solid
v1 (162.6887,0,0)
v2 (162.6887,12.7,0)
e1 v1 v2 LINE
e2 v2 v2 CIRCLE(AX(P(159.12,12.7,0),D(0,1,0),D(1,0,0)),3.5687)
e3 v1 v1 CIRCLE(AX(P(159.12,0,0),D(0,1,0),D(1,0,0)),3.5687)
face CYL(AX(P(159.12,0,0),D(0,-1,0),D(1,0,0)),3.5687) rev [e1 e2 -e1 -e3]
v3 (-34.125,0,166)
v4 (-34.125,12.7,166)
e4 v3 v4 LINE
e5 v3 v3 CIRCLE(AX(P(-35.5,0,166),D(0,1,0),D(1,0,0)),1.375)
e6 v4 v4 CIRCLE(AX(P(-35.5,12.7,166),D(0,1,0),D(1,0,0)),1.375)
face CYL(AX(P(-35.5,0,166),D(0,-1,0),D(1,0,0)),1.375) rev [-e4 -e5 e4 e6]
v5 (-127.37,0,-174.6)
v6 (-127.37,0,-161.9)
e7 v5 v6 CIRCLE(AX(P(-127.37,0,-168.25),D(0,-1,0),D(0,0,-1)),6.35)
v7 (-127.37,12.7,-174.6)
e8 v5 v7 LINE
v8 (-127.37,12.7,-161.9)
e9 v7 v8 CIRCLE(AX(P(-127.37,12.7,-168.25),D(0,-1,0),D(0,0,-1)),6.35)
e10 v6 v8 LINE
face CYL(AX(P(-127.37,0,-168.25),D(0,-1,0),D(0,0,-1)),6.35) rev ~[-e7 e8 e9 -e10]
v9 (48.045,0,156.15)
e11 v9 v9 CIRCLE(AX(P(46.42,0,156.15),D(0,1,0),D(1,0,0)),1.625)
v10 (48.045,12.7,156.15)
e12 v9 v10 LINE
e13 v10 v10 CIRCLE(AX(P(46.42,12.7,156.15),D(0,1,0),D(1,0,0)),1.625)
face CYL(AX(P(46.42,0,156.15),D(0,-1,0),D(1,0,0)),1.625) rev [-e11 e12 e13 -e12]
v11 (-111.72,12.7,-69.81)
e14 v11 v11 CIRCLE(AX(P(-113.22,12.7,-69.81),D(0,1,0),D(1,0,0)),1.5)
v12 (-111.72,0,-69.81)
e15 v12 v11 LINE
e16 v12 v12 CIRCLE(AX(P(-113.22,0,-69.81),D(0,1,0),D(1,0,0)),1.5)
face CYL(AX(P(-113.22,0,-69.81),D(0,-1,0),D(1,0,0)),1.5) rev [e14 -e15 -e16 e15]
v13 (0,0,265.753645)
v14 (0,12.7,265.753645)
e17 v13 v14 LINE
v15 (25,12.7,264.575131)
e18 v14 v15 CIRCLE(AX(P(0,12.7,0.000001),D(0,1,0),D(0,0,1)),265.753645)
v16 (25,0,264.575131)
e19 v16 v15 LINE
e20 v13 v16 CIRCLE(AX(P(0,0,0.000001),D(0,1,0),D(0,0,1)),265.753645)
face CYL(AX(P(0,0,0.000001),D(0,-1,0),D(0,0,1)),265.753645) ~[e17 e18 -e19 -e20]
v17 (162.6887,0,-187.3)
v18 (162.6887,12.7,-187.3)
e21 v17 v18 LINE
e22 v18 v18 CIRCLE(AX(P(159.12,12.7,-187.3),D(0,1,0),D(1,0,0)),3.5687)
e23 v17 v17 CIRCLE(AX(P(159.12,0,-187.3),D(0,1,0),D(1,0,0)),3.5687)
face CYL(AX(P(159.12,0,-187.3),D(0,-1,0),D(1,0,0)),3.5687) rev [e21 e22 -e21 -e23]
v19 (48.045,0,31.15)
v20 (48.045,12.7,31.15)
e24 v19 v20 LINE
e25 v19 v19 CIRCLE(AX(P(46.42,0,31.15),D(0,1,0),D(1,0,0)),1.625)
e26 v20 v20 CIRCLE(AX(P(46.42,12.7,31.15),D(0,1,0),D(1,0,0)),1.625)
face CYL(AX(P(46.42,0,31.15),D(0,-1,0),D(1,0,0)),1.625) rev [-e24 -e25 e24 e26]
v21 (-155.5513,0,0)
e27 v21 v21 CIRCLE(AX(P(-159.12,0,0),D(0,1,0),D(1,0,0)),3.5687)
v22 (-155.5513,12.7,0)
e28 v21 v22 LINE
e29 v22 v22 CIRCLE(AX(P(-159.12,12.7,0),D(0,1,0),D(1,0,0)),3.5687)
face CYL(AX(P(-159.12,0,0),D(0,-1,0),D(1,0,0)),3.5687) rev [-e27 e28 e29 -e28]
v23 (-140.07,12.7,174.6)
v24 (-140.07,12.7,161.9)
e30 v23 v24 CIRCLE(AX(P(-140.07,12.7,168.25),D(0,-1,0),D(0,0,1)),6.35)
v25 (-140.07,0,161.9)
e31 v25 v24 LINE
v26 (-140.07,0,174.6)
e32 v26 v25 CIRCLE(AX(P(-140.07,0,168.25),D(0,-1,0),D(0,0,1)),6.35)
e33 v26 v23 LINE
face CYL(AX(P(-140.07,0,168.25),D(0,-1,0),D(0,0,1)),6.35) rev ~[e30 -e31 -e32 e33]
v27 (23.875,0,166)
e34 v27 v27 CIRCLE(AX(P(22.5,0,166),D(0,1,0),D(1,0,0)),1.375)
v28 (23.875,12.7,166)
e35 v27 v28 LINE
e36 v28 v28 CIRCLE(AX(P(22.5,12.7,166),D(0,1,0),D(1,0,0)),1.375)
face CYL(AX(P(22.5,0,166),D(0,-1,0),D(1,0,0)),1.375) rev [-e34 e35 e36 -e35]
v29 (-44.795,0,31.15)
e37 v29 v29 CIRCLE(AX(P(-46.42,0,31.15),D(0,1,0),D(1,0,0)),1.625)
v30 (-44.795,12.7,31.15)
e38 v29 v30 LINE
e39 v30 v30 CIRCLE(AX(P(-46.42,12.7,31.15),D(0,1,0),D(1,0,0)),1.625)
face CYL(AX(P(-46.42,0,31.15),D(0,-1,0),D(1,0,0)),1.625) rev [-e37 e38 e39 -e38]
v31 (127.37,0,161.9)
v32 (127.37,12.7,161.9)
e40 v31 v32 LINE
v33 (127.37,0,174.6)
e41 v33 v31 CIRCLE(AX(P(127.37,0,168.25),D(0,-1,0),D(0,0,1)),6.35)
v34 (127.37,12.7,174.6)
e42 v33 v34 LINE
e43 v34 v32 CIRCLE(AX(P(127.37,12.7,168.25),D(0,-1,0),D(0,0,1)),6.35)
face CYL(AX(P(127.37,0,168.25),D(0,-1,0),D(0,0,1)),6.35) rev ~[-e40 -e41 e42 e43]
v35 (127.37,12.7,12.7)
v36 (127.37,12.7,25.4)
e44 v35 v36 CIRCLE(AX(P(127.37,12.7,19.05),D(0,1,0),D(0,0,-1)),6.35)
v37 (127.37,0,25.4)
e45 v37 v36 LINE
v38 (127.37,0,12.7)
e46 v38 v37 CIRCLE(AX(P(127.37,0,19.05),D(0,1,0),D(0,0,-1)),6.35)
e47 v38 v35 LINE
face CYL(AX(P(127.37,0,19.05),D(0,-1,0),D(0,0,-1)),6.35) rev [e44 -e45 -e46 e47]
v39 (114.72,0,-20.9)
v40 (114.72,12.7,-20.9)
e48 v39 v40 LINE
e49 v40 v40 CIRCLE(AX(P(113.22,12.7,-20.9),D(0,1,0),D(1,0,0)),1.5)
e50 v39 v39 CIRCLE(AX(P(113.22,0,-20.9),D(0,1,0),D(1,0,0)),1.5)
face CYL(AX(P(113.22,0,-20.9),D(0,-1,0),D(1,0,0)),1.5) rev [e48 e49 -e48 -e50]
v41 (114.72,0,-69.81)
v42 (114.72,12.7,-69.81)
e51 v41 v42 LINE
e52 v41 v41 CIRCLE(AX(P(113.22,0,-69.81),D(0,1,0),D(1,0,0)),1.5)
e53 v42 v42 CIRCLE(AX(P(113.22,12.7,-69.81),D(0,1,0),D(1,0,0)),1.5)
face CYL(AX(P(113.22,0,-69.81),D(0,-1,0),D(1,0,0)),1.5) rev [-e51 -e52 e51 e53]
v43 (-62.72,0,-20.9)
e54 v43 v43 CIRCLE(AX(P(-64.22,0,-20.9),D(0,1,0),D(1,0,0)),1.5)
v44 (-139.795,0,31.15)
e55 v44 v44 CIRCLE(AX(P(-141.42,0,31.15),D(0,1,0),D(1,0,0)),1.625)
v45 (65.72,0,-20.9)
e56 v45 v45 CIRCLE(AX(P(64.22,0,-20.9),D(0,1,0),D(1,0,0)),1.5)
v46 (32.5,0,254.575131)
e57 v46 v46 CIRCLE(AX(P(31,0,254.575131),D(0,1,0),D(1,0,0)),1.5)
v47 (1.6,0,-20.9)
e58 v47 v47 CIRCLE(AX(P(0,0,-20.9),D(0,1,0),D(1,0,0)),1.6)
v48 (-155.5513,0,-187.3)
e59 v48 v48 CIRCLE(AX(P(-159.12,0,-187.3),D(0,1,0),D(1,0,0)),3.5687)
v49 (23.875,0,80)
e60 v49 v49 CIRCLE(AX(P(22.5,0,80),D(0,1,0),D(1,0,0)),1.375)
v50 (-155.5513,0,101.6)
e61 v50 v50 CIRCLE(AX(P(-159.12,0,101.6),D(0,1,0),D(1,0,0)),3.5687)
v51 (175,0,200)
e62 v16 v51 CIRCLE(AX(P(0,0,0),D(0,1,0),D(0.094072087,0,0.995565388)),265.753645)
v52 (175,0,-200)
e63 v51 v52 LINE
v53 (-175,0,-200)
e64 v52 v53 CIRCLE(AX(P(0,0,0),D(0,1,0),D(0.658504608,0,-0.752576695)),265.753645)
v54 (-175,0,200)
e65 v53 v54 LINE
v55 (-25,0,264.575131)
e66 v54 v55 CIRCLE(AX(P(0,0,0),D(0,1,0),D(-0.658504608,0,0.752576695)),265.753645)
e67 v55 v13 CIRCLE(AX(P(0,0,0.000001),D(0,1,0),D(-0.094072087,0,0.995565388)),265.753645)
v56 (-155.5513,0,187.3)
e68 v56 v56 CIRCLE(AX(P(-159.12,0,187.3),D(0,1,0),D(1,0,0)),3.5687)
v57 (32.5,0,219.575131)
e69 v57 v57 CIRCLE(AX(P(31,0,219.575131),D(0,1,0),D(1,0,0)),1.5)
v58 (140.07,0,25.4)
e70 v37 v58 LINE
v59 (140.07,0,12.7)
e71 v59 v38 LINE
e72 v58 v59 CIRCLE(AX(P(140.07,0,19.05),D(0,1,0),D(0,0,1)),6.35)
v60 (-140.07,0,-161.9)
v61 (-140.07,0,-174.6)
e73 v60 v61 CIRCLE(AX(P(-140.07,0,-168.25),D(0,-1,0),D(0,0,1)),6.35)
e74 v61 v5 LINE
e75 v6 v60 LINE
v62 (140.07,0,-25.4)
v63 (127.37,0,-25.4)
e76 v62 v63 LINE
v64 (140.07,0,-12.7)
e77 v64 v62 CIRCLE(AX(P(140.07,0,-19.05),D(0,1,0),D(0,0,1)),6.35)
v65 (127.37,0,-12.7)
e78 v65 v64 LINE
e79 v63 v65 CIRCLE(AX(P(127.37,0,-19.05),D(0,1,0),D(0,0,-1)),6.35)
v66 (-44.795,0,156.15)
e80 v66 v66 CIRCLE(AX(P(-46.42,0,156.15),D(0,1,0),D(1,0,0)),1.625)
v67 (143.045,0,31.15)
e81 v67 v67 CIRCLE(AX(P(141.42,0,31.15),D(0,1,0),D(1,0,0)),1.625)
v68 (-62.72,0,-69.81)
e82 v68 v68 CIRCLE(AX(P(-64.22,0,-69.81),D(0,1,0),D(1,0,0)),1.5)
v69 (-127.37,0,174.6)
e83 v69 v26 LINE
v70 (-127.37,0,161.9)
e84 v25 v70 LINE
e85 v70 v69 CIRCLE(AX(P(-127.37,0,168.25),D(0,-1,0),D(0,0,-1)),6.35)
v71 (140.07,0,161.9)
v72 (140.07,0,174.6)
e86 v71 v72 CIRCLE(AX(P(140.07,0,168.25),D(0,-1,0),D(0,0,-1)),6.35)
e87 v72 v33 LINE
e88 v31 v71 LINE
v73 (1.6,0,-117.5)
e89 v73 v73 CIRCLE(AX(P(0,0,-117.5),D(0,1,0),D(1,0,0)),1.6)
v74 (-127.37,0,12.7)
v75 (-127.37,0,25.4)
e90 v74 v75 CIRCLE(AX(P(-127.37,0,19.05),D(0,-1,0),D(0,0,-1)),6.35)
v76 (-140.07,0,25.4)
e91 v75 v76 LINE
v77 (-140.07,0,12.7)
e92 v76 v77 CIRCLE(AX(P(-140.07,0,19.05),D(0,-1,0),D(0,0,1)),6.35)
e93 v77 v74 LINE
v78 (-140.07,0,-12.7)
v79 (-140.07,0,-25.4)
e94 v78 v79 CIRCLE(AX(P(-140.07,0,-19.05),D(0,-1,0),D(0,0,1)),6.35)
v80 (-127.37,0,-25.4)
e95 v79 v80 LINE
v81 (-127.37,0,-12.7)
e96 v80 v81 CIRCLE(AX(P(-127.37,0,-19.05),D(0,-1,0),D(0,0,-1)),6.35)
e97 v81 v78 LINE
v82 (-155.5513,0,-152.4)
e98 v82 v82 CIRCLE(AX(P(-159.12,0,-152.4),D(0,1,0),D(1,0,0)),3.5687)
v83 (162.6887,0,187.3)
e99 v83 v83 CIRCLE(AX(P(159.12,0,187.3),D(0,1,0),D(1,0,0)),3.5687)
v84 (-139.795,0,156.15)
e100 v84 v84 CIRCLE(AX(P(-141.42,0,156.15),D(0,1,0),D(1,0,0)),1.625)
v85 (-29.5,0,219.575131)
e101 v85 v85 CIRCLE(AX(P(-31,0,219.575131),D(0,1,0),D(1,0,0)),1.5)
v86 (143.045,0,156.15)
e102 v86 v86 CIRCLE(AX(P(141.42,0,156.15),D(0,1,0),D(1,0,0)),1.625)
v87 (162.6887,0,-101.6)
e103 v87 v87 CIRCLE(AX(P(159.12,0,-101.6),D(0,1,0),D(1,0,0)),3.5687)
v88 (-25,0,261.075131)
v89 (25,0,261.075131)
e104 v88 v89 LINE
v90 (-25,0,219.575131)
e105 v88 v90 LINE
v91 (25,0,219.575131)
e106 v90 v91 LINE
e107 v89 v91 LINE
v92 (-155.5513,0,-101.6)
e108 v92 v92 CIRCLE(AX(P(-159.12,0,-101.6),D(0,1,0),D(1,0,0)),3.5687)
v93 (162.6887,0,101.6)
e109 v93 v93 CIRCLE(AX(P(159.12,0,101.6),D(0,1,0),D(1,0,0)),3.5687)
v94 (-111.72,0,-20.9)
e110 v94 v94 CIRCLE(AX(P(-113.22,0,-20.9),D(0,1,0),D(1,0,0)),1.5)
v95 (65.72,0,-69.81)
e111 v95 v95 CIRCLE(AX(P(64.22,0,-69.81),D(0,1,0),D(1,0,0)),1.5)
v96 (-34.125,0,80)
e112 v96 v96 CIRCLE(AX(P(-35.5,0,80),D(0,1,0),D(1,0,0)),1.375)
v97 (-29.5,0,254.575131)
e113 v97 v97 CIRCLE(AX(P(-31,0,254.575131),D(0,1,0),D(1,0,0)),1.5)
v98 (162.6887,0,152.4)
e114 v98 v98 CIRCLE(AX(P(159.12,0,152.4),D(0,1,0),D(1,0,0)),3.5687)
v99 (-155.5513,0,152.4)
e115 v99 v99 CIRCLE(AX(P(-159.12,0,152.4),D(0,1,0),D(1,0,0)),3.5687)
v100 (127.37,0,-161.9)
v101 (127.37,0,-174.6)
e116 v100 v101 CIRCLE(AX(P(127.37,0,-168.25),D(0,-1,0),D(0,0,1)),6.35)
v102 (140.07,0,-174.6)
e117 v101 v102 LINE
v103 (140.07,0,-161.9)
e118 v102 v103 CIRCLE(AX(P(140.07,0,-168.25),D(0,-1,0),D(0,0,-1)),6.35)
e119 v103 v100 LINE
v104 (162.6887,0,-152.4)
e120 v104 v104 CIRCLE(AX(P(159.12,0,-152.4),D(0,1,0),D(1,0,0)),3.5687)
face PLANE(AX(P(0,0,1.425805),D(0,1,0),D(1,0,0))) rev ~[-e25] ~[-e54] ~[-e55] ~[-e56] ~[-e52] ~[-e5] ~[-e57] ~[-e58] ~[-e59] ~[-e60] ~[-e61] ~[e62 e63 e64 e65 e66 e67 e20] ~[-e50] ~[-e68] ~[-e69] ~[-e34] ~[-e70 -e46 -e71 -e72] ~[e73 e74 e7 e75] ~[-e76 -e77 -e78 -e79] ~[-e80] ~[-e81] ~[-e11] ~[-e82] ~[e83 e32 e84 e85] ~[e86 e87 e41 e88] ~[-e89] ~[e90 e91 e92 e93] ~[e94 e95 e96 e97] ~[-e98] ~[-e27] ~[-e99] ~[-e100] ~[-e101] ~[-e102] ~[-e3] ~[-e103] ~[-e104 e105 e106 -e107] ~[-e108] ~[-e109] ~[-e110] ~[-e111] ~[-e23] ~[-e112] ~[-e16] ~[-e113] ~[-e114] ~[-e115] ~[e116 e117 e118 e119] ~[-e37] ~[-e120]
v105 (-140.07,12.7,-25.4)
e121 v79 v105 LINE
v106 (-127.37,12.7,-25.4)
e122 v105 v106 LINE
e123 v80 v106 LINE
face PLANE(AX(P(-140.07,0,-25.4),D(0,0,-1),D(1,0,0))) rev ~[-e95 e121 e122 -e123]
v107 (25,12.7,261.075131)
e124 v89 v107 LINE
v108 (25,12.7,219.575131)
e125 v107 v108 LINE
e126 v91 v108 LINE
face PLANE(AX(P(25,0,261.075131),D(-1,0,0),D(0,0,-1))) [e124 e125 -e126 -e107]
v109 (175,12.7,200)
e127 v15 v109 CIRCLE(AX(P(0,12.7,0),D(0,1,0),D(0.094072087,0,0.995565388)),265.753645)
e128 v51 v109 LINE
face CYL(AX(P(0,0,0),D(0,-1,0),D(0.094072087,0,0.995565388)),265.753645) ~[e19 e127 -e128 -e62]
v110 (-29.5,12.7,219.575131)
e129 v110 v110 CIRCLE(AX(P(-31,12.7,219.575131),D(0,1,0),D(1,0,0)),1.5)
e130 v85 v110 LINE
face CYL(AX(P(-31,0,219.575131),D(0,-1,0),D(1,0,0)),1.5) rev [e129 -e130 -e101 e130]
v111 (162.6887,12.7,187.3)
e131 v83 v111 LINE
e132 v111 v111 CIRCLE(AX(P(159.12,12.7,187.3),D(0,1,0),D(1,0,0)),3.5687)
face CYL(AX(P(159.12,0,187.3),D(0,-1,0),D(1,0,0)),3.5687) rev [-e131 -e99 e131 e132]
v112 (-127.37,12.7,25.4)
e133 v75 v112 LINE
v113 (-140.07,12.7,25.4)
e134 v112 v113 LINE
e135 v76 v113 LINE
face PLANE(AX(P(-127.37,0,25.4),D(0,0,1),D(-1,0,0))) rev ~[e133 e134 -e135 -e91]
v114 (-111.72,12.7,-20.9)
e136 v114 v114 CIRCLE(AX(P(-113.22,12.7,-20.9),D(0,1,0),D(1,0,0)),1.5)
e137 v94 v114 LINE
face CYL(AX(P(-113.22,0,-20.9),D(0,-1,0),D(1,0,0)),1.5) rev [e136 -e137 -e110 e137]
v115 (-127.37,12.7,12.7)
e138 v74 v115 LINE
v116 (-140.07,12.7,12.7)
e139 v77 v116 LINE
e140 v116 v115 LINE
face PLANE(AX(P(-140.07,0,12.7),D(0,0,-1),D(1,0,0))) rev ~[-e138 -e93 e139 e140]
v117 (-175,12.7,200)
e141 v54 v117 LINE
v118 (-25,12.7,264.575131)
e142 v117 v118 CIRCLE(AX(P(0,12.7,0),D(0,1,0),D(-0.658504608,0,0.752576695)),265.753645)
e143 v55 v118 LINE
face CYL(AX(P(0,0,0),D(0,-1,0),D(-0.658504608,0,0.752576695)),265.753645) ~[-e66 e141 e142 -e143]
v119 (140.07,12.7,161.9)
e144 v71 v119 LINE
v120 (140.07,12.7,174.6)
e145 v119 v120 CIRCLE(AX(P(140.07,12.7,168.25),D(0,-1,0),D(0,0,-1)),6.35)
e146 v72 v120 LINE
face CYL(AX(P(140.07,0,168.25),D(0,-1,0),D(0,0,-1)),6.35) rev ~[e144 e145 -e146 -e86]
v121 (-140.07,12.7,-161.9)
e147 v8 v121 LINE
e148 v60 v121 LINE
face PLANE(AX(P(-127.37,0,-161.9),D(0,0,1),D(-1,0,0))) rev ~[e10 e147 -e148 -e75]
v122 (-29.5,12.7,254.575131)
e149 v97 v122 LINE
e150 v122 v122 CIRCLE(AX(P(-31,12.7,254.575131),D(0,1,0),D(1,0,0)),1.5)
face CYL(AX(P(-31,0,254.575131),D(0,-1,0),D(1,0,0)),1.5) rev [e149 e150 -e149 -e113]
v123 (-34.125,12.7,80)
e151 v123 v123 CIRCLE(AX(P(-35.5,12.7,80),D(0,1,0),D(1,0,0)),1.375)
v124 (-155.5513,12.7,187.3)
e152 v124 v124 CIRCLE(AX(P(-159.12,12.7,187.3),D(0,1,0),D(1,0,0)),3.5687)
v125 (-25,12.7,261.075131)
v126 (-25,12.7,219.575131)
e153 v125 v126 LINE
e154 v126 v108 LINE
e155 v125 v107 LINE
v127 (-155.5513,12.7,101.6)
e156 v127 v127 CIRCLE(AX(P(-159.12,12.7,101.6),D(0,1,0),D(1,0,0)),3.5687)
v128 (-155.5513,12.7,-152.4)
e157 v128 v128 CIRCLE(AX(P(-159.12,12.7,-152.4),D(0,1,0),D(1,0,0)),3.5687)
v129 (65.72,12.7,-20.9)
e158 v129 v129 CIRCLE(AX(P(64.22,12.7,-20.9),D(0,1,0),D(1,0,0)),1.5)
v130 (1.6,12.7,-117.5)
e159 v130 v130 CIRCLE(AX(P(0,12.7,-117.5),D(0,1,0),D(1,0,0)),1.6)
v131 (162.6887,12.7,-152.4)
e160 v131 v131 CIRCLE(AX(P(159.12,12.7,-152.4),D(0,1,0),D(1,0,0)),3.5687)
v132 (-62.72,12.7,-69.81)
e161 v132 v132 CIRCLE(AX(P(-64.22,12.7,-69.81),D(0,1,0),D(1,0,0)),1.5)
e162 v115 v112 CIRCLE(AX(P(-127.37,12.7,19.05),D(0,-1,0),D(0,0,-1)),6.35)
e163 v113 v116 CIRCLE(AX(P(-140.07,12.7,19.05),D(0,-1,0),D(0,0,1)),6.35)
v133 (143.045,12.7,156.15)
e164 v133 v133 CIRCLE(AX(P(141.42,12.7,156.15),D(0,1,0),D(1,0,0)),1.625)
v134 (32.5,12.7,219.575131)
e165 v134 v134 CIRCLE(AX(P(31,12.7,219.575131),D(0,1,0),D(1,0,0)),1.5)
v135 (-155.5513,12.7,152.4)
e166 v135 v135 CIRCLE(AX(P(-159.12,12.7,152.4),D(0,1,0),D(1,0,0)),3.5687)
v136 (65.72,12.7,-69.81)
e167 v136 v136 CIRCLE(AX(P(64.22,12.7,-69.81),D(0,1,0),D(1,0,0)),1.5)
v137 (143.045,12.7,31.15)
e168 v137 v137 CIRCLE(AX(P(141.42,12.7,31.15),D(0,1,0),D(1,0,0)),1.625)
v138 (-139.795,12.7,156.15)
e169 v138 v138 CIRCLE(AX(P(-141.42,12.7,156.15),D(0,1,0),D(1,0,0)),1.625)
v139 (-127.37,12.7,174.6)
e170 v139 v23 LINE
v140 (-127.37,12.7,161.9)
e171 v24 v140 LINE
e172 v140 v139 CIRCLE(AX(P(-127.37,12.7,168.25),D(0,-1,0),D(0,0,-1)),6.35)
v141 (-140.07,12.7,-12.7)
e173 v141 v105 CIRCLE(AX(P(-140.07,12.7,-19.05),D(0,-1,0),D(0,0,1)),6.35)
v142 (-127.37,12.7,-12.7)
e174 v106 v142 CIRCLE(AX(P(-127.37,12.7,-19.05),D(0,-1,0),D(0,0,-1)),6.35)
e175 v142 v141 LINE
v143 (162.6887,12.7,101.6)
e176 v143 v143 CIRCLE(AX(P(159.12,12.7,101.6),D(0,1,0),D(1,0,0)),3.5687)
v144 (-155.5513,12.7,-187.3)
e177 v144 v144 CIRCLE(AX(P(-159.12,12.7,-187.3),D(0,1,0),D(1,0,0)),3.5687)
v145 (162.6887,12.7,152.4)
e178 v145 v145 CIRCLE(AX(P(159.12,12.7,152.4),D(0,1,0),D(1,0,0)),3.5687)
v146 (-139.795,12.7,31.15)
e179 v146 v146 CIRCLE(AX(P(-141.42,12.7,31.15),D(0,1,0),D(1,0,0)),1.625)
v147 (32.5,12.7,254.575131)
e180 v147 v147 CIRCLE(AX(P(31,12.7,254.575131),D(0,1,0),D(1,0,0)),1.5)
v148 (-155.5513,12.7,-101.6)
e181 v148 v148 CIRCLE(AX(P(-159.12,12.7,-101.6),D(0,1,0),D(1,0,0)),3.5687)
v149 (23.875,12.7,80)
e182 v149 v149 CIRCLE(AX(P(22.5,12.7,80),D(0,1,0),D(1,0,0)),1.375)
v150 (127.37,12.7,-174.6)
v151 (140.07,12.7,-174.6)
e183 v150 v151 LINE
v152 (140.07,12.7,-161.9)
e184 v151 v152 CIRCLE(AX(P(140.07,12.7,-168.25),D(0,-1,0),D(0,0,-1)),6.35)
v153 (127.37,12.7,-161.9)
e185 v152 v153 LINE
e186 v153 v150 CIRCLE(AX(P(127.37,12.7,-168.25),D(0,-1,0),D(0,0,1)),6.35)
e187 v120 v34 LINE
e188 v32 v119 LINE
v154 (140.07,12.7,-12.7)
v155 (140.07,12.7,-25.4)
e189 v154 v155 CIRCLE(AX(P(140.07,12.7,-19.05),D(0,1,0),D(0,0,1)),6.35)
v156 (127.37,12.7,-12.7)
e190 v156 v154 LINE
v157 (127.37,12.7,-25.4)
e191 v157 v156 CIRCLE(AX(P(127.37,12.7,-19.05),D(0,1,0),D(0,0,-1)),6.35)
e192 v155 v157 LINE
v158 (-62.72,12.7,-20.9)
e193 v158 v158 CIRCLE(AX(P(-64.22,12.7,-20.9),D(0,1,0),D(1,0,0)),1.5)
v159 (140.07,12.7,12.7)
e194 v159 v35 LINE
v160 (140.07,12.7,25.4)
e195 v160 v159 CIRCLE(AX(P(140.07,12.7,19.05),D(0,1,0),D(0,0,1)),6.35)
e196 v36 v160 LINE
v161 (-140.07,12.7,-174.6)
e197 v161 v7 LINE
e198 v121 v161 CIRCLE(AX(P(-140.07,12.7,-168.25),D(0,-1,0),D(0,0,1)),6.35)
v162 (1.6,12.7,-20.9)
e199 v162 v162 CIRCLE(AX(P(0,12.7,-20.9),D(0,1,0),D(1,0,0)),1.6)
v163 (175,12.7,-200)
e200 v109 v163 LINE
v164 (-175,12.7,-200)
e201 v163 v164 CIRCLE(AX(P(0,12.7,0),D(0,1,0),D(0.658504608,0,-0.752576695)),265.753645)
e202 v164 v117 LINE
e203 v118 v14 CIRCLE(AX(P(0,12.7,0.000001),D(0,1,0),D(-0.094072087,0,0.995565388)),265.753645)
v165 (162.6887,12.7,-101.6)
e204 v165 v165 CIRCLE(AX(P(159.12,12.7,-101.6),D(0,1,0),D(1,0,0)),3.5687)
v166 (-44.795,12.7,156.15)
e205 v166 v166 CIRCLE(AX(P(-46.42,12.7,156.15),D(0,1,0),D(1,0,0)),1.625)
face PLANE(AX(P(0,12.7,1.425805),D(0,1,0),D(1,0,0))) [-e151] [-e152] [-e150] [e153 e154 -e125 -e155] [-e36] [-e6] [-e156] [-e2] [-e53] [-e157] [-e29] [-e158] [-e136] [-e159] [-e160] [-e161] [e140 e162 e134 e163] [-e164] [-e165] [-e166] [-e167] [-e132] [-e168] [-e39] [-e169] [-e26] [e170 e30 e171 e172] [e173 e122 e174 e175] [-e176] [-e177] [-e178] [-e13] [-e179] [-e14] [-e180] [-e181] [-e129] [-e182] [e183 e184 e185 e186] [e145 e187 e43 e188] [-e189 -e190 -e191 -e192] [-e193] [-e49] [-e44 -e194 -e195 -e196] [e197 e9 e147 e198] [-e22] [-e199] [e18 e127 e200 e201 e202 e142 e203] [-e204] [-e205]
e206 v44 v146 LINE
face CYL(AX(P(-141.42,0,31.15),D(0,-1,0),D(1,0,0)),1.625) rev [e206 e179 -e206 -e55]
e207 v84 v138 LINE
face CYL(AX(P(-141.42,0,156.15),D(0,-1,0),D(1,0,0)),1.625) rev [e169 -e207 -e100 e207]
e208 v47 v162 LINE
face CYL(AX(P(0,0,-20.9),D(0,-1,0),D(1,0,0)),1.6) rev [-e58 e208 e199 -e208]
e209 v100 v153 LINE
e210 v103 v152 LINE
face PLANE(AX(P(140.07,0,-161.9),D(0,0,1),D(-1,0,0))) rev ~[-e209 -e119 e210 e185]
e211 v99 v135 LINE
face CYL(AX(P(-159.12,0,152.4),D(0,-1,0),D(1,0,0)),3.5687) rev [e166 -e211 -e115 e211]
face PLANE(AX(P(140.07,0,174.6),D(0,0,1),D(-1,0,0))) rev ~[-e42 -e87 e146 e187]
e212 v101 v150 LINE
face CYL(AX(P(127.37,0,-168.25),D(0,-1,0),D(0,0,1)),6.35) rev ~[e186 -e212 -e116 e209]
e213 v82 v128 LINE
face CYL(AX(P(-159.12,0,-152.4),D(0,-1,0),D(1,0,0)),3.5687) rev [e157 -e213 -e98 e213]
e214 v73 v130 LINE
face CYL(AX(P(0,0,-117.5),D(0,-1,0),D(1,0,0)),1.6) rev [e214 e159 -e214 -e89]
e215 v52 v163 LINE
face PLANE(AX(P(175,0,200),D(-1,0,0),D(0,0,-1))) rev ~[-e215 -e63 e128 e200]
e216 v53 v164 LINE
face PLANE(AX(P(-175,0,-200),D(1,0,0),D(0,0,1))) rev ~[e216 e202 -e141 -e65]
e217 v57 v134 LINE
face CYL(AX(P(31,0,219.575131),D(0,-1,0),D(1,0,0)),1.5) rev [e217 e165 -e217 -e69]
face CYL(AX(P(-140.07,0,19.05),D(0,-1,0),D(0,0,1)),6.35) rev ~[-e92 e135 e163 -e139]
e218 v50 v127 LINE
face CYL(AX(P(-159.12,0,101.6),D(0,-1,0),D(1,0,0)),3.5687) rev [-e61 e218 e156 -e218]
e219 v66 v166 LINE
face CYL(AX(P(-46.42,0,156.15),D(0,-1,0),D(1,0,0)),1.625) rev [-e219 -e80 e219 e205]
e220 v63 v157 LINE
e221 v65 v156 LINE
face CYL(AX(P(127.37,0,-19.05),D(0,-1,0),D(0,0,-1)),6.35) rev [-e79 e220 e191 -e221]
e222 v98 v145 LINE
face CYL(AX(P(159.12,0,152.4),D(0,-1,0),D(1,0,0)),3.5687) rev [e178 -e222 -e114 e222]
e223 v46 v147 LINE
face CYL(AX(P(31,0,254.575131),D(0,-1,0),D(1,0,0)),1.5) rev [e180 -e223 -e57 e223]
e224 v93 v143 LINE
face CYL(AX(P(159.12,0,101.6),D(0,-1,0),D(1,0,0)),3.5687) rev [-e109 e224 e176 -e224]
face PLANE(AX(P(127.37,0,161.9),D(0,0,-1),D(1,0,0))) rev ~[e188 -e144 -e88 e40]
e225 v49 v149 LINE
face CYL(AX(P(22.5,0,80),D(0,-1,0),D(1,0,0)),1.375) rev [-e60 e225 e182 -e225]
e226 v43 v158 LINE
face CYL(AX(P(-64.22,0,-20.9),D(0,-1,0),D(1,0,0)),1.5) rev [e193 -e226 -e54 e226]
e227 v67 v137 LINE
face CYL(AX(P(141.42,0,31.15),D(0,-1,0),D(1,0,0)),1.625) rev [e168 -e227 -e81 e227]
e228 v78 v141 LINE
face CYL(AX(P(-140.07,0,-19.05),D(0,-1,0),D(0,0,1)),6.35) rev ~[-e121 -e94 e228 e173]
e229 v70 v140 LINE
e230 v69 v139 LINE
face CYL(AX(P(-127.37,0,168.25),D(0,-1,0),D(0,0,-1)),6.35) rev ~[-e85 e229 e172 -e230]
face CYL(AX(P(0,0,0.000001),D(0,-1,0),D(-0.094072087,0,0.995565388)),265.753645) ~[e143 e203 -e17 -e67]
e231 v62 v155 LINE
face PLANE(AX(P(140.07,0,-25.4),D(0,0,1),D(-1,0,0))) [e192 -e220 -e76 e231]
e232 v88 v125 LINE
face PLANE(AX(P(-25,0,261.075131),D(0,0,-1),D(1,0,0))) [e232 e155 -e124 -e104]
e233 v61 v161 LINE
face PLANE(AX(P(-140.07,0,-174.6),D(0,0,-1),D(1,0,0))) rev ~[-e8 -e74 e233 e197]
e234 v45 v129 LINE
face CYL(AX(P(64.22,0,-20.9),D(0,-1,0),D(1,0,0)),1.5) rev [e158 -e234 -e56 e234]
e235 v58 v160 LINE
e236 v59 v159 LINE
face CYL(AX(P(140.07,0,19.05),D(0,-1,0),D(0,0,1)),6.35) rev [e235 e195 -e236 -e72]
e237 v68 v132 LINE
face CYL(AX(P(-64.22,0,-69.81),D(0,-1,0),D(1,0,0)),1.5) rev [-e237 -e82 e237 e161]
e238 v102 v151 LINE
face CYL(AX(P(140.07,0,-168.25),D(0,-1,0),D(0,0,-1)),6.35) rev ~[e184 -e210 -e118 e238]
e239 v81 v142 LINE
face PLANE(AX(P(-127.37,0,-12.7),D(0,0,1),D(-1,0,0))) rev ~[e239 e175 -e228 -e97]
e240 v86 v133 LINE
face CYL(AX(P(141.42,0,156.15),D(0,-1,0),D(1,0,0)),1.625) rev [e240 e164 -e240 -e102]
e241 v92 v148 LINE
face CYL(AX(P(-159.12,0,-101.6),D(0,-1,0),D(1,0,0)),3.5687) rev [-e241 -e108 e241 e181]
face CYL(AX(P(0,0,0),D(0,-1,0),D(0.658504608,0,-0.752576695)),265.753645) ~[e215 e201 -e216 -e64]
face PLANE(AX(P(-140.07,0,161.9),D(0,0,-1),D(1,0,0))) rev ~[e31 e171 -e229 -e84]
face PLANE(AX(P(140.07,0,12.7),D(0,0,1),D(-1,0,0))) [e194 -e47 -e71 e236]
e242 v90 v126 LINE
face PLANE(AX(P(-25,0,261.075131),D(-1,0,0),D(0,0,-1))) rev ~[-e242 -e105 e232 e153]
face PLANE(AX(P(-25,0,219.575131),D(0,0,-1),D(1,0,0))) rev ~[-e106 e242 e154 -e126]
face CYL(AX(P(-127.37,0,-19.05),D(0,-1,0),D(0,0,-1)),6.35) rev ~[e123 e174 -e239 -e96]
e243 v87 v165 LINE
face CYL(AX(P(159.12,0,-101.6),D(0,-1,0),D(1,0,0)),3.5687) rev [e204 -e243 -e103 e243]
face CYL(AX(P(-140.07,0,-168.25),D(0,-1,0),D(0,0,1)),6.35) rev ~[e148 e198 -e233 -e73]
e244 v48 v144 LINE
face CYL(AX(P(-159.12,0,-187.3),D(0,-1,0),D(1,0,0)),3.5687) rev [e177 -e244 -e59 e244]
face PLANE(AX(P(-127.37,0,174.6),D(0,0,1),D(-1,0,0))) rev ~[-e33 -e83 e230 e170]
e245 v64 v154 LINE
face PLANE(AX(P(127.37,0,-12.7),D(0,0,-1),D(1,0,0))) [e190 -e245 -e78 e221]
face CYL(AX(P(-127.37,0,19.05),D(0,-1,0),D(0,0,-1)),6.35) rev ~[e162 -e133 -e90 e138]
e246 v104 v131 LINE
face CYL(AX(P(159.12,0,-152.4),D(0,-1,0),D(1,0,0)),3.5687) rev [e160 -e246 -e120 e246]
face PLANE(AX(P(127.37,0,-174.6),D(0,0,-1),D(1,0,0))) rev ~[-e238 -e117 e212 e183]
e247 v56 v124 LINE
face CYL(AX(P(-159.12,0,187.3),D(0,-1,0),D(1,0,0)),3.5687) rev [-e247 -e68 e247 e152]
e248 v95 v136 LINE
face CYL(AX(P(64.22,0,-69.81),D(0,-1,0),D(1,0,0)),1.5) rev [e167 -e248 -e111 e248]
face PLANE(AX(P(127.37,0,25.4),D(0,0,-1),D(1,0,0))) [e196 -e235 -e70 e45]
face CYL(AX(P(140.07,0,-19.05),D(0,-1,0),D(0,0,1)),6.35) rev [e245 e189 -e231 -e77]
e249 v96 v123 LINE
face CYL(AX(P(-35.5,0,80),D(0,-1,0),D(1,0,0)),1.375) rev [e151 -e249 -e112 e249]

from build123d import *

# Parameters (mm, degrees)
SKETCH1_R           = 1.5
SKETCH1_R_2         = 1.375
SKETCH1_R_3         = 1.6
SKETCH1_R_4         = 1.625
SKETCH1_R_5         = 3.5687
SKETCH1_W           = 50
SKETCH1_H           = 41.5
BOSS_EXTRUDE1_DEPTH = 12.7


with BuildPart() as part:
    # Sketch1 → Boss-Extrude1 (new body)
    with BuildSketch(Plane(origin=(0, 0, 0), x_dir=(1, 0, 0), z_dir=(0, 1, 0))):
        with BuildLine():
            Line((175, -200), (175, 200))
            ThreePointArc((175, 200), (0, 265.753645318), (-175, 200))
            Line((-175, 200), (-175, -200))
            ThreePointArc((-175, -200), (-105.083237909, -244.095295142), (-25, -264.575131106))
            ThreePointArc((-25, -264.575131106), (-12.51388125, -265.458853264), (0, -265.753645318))
            ThreePointArc((0, -265.753645318), (12.51388125, -265.458853264), (25, -264.575131106))
            ThreePointArc((25, -264.575131106), (105.083237909, -244.095295142), (175, -200))
        make_face()
        with Locations((-31, -219.575131106)):
            Circle(SKETCH1_R, mode=Mode.SUBTRACT)
        with Locations((31, -219.575131106)):
            Circle(SKETCH1_R, mode=Mode.SUBTRACT)
        with Locations((22.5, -166)):
            Circle(SKETCH1_R_2, mode=Mode.SUBTRACT)
        with Locations((-31, -254.575131106)):
            Circle(SKETCH1_R, mode=Mode.SUBTRACT)
        with Locations((31, -254.575131106)):
            Circle(SKETCH1_R, mode=Mode.SUBTRACT)
        with Locations((-35.5, -166)):
            Circle(SKETCH1_R_2, mode=Mode.SUBTRACT)
        with Locations((22.5, -80)):
            Circle(SKETCH1_R_2, mode=Mode.SUBTRACT)
        with Locations((-35.5, -80)):
            Circle(SKETCH1_R_2, mode=Mode.SUBTRACT)
        with Locations((0, 117.5)):
            Circle(SKETCH1_R_3, mode=Mode.SUBTRACT)
        with Locations((0, 20.9)):
            Circle(SKETCH1_R_3, mode=Mode.SUBTRACT)
        with Locations((-113.22, 20.9)):
            Circle(SKETCH1_R, mode=Mode.SUBTRACT)
        with Locations((-64.22, 20.9)):
            Circle(SKETCH1_R, mode=Mode.SUBTRACT)
        with Locations((-64.22, 69.81)):
            Circle(SKETCH1_R, mode=Mode.SUBTRACT)
        with Locations((-113.22, 69.81)):
            Circle(SKETCH1_R, mode=Mode.SUBTRACT)
        with Locations((64.22, 20.9)):
            Circle(SKETCH1_R, mode=Mode.SUBTRACT)
        with Locations((113.22, 20.9)):
            Circle(SKETCH1_R, mode=Mode.SUBTRACT)
        with Locations((113.22, 69.81)):
            Circle(SKETCH1_R, mode=Mode.SUBTRACT)
        with Locations((64.22, 69.81)):
            Circle(SKETCH1_R, mode=Mode.SUBTRACT)
        with Locations((-141.42, -31.15)):
            Circle(SKETCH1_R_4, mode=Mode.SUBTRACT)
        with Locations((-46.42, -31.15)):
            Circle(SKETCH1_R_4, mode=Mode.SUBTRACT)
        with Locations((-141.42, -156.15)):
            Circle(SKETCH1_R_4, mode=Mode.SUBTRACT)
        with Locations((-46.42, -156.15)):
            Circle(SKETCH1_R_4, mode=Mode.SUBTRACT)
        with Locations((46.42, -156.15)):
            Circle(SKETCH1_R_4, mode=Mode.SUBTRACT)
        with Locations((141.42, -156.15)):
            Circle(SKETCH1_R_4, mode=Mode.SUBTRACT)
        with Locations((46.42, -31.15)):
            Circle(SKETCH1_R_4, mode=Mode.SUBTRACT)
        with Locations((141.42, -31.15)):
            Circle(SKETCH1_R_4, mode=Mode.SUBTRACT)
        with Locations((-159.12, -101.6)):
            Circle(SKETCH1_R_5, mode=Mode.SUBTRACT)
        with Locations((-159.12, -152.4)):
            Circle(SKETCH1_R_5, mode=Mode.SUBTRACT)
        with Locations((-159.12, 152.4)):
            Circle(SKETCH1_R_5, mode=Mode.SUBTRACT)
        with Locations((-159.12, 101.6)):
            Circle(SKETCH1_R_5, mode=Mode.SUBTRACT)
        with Locations((159.12, -152.4)):
            Circle(SKETCH1_R_5, mode=Mode.SUBTRACT)
        with Locations((159.12, -101.6)):
            Circle(SKETCH1_R_5, mode=Mode.SUBTRACT)
        with Locations((159.12, 101.6)):
            Circle(SKETCH1_R_5, mode=Mode.SUBTRACT)
        with Locations((159.12, 152.4)):
            Circle(SKETCH1_R_5, mode=Mode.SUBTRACT)
        with Locations((-159.12, 187.3)):
            Circle(SKETCH1_R_5, mode=Mode.SUBTRACT)
        with Locations((-159.12, 0)):
            Circle(SKETCH1_R_5, mode=Mode.SUBTRACT)
        with Locations((-159.12, -187.3)):
            Circle(SKETCH1_R_5, mode=Mode.SUBTRACT)
        with Locations((159.12, 187.3)):
            Circle(SKETCH1_R_5, mode=Mode.SUBTRACT)
        with Locations((159.12, 0)):
            Circle(SKETCH1_R_5, mode=Mode.SUBTRACT)
        with Locations((159.12, -187.3)):
            Circle(SKETCH1_R_5, mode=Mode.SUBTRACT)
        with Locations((0, -240.325131106)):
            Rectangle(SKETCH1_W, SKETCH1_H, mode=Mode.SUBTRACT)
        with BuildLine():
            Line((-140.07, -12.7), (-127.37, -12.7))
            ThreePointArc((-127.37, -12.7), (-121.02, -19.05), (-127.37, -25.4))
            Line((-127.37, -25.4), (-140.07, -25.4))
            ThreePointArc((-140.07, -25.4), (-146.42, -19.05), (-140.07, -12.7))
        make_face(mode=Mode.SUBTRACT)
        with BuildLine():
            Line((-140.07, 25.4), (-127.37, 25.4))
            ThreePointArc((-127.37, 25.4), (-121.02, 19.05), (-127.37, 12.7))
            Line((-127.37, 12.7), (-140.07, 12.7))
            ThreePointArc((-140.07, 12.7), (-146.42, 19.05), (-140.07, 25.4))
        make_face(mode=Mode.SUBTRACT)
        with BuildLine():
            Line((140.07, 25.4), (127.37, 25.4))
            ThreePointArc((127.37, 25.4), (121.02, 19.05), (127.37, 12.7))
            Line((127.37, 12.7), (140.07, 12.7))
            ThreePointArc((140.07, 12.7), (146.42, 19.05), (140.07, 25.4))
        make_face(mode=Mode.SUBTRACT)
        with BuildLine():
            Line((140.07, -12.7), (127.37, -12.7))
            ThreePointArc((127.37, -12.7), (121.02, -19.05), (127.37, -25.4))
            Line((127.37, -25.4), (140.07, -25.4))
            ThreePointArc((140.07, -25.4), (146.42, -19.05), (140.07, -12.7))
        make_face(mode=Mode.SUBTRACT)
        with BuildLine():
            Line((-140.07, -161.9), (-127.37, -161.9))
            ThreePointArc((-127.37, -161.9), (-121.02, -168.25), (-127.37, -174.6))
            Line((-127.37, -174.6), (-140.07, -174.6))
            ThreePointArc((-140.07, -174.6), (-146.42, -168.25), (-140.07, -161.9))
        make_face(mode=Mode.SUBTRACT)
        with BuildLine():
            Line((127.37, -161.9), (140.07, -161.9))
            ThreePointArc((140.07, -161.9), (146.42, -168.25), (140.07, -174.6))
            Line((140.07, -174.6), (127.37, -174.6))
            ThreePointArc((127.37, -174.6), (121.02, -168.25), (127.37, -161.9))
        make_face(mode=Mode.SUBTRACT)
        with BuildLine():
            Line((-140.07, 174.6), (-127.37, 174.6))
            ThreePointArc((-127.37, 174.6), (-121.02, 168.25), (-127.37, 161.9))
            Line((-127.37, 161.9), (-140.07, 161.9))
            ThreePointArc((-140.07, 161.9), (-146.42, 168.25), (-140.07, 174.6))
        make_face(mode=Mode.SUBTRACT)
        with BuildLine():
            Line((127.37, 174.6), (140.07, 174.6))
            ThreePointArc((140.07, 174.6), (146.42, 168.25), (140.07, 161.9))
            Line((140.07, 161.9), (127.37, 161.9))
            ThreePointArc((127.37, 161.9), (121.02, 168.25), (127.37, 174.6))
        make_face(mode=Mode.SUBTRACT)
    extrude(amount=BOSS_EXTRUDE1_DEPTH)


solid = part.part
